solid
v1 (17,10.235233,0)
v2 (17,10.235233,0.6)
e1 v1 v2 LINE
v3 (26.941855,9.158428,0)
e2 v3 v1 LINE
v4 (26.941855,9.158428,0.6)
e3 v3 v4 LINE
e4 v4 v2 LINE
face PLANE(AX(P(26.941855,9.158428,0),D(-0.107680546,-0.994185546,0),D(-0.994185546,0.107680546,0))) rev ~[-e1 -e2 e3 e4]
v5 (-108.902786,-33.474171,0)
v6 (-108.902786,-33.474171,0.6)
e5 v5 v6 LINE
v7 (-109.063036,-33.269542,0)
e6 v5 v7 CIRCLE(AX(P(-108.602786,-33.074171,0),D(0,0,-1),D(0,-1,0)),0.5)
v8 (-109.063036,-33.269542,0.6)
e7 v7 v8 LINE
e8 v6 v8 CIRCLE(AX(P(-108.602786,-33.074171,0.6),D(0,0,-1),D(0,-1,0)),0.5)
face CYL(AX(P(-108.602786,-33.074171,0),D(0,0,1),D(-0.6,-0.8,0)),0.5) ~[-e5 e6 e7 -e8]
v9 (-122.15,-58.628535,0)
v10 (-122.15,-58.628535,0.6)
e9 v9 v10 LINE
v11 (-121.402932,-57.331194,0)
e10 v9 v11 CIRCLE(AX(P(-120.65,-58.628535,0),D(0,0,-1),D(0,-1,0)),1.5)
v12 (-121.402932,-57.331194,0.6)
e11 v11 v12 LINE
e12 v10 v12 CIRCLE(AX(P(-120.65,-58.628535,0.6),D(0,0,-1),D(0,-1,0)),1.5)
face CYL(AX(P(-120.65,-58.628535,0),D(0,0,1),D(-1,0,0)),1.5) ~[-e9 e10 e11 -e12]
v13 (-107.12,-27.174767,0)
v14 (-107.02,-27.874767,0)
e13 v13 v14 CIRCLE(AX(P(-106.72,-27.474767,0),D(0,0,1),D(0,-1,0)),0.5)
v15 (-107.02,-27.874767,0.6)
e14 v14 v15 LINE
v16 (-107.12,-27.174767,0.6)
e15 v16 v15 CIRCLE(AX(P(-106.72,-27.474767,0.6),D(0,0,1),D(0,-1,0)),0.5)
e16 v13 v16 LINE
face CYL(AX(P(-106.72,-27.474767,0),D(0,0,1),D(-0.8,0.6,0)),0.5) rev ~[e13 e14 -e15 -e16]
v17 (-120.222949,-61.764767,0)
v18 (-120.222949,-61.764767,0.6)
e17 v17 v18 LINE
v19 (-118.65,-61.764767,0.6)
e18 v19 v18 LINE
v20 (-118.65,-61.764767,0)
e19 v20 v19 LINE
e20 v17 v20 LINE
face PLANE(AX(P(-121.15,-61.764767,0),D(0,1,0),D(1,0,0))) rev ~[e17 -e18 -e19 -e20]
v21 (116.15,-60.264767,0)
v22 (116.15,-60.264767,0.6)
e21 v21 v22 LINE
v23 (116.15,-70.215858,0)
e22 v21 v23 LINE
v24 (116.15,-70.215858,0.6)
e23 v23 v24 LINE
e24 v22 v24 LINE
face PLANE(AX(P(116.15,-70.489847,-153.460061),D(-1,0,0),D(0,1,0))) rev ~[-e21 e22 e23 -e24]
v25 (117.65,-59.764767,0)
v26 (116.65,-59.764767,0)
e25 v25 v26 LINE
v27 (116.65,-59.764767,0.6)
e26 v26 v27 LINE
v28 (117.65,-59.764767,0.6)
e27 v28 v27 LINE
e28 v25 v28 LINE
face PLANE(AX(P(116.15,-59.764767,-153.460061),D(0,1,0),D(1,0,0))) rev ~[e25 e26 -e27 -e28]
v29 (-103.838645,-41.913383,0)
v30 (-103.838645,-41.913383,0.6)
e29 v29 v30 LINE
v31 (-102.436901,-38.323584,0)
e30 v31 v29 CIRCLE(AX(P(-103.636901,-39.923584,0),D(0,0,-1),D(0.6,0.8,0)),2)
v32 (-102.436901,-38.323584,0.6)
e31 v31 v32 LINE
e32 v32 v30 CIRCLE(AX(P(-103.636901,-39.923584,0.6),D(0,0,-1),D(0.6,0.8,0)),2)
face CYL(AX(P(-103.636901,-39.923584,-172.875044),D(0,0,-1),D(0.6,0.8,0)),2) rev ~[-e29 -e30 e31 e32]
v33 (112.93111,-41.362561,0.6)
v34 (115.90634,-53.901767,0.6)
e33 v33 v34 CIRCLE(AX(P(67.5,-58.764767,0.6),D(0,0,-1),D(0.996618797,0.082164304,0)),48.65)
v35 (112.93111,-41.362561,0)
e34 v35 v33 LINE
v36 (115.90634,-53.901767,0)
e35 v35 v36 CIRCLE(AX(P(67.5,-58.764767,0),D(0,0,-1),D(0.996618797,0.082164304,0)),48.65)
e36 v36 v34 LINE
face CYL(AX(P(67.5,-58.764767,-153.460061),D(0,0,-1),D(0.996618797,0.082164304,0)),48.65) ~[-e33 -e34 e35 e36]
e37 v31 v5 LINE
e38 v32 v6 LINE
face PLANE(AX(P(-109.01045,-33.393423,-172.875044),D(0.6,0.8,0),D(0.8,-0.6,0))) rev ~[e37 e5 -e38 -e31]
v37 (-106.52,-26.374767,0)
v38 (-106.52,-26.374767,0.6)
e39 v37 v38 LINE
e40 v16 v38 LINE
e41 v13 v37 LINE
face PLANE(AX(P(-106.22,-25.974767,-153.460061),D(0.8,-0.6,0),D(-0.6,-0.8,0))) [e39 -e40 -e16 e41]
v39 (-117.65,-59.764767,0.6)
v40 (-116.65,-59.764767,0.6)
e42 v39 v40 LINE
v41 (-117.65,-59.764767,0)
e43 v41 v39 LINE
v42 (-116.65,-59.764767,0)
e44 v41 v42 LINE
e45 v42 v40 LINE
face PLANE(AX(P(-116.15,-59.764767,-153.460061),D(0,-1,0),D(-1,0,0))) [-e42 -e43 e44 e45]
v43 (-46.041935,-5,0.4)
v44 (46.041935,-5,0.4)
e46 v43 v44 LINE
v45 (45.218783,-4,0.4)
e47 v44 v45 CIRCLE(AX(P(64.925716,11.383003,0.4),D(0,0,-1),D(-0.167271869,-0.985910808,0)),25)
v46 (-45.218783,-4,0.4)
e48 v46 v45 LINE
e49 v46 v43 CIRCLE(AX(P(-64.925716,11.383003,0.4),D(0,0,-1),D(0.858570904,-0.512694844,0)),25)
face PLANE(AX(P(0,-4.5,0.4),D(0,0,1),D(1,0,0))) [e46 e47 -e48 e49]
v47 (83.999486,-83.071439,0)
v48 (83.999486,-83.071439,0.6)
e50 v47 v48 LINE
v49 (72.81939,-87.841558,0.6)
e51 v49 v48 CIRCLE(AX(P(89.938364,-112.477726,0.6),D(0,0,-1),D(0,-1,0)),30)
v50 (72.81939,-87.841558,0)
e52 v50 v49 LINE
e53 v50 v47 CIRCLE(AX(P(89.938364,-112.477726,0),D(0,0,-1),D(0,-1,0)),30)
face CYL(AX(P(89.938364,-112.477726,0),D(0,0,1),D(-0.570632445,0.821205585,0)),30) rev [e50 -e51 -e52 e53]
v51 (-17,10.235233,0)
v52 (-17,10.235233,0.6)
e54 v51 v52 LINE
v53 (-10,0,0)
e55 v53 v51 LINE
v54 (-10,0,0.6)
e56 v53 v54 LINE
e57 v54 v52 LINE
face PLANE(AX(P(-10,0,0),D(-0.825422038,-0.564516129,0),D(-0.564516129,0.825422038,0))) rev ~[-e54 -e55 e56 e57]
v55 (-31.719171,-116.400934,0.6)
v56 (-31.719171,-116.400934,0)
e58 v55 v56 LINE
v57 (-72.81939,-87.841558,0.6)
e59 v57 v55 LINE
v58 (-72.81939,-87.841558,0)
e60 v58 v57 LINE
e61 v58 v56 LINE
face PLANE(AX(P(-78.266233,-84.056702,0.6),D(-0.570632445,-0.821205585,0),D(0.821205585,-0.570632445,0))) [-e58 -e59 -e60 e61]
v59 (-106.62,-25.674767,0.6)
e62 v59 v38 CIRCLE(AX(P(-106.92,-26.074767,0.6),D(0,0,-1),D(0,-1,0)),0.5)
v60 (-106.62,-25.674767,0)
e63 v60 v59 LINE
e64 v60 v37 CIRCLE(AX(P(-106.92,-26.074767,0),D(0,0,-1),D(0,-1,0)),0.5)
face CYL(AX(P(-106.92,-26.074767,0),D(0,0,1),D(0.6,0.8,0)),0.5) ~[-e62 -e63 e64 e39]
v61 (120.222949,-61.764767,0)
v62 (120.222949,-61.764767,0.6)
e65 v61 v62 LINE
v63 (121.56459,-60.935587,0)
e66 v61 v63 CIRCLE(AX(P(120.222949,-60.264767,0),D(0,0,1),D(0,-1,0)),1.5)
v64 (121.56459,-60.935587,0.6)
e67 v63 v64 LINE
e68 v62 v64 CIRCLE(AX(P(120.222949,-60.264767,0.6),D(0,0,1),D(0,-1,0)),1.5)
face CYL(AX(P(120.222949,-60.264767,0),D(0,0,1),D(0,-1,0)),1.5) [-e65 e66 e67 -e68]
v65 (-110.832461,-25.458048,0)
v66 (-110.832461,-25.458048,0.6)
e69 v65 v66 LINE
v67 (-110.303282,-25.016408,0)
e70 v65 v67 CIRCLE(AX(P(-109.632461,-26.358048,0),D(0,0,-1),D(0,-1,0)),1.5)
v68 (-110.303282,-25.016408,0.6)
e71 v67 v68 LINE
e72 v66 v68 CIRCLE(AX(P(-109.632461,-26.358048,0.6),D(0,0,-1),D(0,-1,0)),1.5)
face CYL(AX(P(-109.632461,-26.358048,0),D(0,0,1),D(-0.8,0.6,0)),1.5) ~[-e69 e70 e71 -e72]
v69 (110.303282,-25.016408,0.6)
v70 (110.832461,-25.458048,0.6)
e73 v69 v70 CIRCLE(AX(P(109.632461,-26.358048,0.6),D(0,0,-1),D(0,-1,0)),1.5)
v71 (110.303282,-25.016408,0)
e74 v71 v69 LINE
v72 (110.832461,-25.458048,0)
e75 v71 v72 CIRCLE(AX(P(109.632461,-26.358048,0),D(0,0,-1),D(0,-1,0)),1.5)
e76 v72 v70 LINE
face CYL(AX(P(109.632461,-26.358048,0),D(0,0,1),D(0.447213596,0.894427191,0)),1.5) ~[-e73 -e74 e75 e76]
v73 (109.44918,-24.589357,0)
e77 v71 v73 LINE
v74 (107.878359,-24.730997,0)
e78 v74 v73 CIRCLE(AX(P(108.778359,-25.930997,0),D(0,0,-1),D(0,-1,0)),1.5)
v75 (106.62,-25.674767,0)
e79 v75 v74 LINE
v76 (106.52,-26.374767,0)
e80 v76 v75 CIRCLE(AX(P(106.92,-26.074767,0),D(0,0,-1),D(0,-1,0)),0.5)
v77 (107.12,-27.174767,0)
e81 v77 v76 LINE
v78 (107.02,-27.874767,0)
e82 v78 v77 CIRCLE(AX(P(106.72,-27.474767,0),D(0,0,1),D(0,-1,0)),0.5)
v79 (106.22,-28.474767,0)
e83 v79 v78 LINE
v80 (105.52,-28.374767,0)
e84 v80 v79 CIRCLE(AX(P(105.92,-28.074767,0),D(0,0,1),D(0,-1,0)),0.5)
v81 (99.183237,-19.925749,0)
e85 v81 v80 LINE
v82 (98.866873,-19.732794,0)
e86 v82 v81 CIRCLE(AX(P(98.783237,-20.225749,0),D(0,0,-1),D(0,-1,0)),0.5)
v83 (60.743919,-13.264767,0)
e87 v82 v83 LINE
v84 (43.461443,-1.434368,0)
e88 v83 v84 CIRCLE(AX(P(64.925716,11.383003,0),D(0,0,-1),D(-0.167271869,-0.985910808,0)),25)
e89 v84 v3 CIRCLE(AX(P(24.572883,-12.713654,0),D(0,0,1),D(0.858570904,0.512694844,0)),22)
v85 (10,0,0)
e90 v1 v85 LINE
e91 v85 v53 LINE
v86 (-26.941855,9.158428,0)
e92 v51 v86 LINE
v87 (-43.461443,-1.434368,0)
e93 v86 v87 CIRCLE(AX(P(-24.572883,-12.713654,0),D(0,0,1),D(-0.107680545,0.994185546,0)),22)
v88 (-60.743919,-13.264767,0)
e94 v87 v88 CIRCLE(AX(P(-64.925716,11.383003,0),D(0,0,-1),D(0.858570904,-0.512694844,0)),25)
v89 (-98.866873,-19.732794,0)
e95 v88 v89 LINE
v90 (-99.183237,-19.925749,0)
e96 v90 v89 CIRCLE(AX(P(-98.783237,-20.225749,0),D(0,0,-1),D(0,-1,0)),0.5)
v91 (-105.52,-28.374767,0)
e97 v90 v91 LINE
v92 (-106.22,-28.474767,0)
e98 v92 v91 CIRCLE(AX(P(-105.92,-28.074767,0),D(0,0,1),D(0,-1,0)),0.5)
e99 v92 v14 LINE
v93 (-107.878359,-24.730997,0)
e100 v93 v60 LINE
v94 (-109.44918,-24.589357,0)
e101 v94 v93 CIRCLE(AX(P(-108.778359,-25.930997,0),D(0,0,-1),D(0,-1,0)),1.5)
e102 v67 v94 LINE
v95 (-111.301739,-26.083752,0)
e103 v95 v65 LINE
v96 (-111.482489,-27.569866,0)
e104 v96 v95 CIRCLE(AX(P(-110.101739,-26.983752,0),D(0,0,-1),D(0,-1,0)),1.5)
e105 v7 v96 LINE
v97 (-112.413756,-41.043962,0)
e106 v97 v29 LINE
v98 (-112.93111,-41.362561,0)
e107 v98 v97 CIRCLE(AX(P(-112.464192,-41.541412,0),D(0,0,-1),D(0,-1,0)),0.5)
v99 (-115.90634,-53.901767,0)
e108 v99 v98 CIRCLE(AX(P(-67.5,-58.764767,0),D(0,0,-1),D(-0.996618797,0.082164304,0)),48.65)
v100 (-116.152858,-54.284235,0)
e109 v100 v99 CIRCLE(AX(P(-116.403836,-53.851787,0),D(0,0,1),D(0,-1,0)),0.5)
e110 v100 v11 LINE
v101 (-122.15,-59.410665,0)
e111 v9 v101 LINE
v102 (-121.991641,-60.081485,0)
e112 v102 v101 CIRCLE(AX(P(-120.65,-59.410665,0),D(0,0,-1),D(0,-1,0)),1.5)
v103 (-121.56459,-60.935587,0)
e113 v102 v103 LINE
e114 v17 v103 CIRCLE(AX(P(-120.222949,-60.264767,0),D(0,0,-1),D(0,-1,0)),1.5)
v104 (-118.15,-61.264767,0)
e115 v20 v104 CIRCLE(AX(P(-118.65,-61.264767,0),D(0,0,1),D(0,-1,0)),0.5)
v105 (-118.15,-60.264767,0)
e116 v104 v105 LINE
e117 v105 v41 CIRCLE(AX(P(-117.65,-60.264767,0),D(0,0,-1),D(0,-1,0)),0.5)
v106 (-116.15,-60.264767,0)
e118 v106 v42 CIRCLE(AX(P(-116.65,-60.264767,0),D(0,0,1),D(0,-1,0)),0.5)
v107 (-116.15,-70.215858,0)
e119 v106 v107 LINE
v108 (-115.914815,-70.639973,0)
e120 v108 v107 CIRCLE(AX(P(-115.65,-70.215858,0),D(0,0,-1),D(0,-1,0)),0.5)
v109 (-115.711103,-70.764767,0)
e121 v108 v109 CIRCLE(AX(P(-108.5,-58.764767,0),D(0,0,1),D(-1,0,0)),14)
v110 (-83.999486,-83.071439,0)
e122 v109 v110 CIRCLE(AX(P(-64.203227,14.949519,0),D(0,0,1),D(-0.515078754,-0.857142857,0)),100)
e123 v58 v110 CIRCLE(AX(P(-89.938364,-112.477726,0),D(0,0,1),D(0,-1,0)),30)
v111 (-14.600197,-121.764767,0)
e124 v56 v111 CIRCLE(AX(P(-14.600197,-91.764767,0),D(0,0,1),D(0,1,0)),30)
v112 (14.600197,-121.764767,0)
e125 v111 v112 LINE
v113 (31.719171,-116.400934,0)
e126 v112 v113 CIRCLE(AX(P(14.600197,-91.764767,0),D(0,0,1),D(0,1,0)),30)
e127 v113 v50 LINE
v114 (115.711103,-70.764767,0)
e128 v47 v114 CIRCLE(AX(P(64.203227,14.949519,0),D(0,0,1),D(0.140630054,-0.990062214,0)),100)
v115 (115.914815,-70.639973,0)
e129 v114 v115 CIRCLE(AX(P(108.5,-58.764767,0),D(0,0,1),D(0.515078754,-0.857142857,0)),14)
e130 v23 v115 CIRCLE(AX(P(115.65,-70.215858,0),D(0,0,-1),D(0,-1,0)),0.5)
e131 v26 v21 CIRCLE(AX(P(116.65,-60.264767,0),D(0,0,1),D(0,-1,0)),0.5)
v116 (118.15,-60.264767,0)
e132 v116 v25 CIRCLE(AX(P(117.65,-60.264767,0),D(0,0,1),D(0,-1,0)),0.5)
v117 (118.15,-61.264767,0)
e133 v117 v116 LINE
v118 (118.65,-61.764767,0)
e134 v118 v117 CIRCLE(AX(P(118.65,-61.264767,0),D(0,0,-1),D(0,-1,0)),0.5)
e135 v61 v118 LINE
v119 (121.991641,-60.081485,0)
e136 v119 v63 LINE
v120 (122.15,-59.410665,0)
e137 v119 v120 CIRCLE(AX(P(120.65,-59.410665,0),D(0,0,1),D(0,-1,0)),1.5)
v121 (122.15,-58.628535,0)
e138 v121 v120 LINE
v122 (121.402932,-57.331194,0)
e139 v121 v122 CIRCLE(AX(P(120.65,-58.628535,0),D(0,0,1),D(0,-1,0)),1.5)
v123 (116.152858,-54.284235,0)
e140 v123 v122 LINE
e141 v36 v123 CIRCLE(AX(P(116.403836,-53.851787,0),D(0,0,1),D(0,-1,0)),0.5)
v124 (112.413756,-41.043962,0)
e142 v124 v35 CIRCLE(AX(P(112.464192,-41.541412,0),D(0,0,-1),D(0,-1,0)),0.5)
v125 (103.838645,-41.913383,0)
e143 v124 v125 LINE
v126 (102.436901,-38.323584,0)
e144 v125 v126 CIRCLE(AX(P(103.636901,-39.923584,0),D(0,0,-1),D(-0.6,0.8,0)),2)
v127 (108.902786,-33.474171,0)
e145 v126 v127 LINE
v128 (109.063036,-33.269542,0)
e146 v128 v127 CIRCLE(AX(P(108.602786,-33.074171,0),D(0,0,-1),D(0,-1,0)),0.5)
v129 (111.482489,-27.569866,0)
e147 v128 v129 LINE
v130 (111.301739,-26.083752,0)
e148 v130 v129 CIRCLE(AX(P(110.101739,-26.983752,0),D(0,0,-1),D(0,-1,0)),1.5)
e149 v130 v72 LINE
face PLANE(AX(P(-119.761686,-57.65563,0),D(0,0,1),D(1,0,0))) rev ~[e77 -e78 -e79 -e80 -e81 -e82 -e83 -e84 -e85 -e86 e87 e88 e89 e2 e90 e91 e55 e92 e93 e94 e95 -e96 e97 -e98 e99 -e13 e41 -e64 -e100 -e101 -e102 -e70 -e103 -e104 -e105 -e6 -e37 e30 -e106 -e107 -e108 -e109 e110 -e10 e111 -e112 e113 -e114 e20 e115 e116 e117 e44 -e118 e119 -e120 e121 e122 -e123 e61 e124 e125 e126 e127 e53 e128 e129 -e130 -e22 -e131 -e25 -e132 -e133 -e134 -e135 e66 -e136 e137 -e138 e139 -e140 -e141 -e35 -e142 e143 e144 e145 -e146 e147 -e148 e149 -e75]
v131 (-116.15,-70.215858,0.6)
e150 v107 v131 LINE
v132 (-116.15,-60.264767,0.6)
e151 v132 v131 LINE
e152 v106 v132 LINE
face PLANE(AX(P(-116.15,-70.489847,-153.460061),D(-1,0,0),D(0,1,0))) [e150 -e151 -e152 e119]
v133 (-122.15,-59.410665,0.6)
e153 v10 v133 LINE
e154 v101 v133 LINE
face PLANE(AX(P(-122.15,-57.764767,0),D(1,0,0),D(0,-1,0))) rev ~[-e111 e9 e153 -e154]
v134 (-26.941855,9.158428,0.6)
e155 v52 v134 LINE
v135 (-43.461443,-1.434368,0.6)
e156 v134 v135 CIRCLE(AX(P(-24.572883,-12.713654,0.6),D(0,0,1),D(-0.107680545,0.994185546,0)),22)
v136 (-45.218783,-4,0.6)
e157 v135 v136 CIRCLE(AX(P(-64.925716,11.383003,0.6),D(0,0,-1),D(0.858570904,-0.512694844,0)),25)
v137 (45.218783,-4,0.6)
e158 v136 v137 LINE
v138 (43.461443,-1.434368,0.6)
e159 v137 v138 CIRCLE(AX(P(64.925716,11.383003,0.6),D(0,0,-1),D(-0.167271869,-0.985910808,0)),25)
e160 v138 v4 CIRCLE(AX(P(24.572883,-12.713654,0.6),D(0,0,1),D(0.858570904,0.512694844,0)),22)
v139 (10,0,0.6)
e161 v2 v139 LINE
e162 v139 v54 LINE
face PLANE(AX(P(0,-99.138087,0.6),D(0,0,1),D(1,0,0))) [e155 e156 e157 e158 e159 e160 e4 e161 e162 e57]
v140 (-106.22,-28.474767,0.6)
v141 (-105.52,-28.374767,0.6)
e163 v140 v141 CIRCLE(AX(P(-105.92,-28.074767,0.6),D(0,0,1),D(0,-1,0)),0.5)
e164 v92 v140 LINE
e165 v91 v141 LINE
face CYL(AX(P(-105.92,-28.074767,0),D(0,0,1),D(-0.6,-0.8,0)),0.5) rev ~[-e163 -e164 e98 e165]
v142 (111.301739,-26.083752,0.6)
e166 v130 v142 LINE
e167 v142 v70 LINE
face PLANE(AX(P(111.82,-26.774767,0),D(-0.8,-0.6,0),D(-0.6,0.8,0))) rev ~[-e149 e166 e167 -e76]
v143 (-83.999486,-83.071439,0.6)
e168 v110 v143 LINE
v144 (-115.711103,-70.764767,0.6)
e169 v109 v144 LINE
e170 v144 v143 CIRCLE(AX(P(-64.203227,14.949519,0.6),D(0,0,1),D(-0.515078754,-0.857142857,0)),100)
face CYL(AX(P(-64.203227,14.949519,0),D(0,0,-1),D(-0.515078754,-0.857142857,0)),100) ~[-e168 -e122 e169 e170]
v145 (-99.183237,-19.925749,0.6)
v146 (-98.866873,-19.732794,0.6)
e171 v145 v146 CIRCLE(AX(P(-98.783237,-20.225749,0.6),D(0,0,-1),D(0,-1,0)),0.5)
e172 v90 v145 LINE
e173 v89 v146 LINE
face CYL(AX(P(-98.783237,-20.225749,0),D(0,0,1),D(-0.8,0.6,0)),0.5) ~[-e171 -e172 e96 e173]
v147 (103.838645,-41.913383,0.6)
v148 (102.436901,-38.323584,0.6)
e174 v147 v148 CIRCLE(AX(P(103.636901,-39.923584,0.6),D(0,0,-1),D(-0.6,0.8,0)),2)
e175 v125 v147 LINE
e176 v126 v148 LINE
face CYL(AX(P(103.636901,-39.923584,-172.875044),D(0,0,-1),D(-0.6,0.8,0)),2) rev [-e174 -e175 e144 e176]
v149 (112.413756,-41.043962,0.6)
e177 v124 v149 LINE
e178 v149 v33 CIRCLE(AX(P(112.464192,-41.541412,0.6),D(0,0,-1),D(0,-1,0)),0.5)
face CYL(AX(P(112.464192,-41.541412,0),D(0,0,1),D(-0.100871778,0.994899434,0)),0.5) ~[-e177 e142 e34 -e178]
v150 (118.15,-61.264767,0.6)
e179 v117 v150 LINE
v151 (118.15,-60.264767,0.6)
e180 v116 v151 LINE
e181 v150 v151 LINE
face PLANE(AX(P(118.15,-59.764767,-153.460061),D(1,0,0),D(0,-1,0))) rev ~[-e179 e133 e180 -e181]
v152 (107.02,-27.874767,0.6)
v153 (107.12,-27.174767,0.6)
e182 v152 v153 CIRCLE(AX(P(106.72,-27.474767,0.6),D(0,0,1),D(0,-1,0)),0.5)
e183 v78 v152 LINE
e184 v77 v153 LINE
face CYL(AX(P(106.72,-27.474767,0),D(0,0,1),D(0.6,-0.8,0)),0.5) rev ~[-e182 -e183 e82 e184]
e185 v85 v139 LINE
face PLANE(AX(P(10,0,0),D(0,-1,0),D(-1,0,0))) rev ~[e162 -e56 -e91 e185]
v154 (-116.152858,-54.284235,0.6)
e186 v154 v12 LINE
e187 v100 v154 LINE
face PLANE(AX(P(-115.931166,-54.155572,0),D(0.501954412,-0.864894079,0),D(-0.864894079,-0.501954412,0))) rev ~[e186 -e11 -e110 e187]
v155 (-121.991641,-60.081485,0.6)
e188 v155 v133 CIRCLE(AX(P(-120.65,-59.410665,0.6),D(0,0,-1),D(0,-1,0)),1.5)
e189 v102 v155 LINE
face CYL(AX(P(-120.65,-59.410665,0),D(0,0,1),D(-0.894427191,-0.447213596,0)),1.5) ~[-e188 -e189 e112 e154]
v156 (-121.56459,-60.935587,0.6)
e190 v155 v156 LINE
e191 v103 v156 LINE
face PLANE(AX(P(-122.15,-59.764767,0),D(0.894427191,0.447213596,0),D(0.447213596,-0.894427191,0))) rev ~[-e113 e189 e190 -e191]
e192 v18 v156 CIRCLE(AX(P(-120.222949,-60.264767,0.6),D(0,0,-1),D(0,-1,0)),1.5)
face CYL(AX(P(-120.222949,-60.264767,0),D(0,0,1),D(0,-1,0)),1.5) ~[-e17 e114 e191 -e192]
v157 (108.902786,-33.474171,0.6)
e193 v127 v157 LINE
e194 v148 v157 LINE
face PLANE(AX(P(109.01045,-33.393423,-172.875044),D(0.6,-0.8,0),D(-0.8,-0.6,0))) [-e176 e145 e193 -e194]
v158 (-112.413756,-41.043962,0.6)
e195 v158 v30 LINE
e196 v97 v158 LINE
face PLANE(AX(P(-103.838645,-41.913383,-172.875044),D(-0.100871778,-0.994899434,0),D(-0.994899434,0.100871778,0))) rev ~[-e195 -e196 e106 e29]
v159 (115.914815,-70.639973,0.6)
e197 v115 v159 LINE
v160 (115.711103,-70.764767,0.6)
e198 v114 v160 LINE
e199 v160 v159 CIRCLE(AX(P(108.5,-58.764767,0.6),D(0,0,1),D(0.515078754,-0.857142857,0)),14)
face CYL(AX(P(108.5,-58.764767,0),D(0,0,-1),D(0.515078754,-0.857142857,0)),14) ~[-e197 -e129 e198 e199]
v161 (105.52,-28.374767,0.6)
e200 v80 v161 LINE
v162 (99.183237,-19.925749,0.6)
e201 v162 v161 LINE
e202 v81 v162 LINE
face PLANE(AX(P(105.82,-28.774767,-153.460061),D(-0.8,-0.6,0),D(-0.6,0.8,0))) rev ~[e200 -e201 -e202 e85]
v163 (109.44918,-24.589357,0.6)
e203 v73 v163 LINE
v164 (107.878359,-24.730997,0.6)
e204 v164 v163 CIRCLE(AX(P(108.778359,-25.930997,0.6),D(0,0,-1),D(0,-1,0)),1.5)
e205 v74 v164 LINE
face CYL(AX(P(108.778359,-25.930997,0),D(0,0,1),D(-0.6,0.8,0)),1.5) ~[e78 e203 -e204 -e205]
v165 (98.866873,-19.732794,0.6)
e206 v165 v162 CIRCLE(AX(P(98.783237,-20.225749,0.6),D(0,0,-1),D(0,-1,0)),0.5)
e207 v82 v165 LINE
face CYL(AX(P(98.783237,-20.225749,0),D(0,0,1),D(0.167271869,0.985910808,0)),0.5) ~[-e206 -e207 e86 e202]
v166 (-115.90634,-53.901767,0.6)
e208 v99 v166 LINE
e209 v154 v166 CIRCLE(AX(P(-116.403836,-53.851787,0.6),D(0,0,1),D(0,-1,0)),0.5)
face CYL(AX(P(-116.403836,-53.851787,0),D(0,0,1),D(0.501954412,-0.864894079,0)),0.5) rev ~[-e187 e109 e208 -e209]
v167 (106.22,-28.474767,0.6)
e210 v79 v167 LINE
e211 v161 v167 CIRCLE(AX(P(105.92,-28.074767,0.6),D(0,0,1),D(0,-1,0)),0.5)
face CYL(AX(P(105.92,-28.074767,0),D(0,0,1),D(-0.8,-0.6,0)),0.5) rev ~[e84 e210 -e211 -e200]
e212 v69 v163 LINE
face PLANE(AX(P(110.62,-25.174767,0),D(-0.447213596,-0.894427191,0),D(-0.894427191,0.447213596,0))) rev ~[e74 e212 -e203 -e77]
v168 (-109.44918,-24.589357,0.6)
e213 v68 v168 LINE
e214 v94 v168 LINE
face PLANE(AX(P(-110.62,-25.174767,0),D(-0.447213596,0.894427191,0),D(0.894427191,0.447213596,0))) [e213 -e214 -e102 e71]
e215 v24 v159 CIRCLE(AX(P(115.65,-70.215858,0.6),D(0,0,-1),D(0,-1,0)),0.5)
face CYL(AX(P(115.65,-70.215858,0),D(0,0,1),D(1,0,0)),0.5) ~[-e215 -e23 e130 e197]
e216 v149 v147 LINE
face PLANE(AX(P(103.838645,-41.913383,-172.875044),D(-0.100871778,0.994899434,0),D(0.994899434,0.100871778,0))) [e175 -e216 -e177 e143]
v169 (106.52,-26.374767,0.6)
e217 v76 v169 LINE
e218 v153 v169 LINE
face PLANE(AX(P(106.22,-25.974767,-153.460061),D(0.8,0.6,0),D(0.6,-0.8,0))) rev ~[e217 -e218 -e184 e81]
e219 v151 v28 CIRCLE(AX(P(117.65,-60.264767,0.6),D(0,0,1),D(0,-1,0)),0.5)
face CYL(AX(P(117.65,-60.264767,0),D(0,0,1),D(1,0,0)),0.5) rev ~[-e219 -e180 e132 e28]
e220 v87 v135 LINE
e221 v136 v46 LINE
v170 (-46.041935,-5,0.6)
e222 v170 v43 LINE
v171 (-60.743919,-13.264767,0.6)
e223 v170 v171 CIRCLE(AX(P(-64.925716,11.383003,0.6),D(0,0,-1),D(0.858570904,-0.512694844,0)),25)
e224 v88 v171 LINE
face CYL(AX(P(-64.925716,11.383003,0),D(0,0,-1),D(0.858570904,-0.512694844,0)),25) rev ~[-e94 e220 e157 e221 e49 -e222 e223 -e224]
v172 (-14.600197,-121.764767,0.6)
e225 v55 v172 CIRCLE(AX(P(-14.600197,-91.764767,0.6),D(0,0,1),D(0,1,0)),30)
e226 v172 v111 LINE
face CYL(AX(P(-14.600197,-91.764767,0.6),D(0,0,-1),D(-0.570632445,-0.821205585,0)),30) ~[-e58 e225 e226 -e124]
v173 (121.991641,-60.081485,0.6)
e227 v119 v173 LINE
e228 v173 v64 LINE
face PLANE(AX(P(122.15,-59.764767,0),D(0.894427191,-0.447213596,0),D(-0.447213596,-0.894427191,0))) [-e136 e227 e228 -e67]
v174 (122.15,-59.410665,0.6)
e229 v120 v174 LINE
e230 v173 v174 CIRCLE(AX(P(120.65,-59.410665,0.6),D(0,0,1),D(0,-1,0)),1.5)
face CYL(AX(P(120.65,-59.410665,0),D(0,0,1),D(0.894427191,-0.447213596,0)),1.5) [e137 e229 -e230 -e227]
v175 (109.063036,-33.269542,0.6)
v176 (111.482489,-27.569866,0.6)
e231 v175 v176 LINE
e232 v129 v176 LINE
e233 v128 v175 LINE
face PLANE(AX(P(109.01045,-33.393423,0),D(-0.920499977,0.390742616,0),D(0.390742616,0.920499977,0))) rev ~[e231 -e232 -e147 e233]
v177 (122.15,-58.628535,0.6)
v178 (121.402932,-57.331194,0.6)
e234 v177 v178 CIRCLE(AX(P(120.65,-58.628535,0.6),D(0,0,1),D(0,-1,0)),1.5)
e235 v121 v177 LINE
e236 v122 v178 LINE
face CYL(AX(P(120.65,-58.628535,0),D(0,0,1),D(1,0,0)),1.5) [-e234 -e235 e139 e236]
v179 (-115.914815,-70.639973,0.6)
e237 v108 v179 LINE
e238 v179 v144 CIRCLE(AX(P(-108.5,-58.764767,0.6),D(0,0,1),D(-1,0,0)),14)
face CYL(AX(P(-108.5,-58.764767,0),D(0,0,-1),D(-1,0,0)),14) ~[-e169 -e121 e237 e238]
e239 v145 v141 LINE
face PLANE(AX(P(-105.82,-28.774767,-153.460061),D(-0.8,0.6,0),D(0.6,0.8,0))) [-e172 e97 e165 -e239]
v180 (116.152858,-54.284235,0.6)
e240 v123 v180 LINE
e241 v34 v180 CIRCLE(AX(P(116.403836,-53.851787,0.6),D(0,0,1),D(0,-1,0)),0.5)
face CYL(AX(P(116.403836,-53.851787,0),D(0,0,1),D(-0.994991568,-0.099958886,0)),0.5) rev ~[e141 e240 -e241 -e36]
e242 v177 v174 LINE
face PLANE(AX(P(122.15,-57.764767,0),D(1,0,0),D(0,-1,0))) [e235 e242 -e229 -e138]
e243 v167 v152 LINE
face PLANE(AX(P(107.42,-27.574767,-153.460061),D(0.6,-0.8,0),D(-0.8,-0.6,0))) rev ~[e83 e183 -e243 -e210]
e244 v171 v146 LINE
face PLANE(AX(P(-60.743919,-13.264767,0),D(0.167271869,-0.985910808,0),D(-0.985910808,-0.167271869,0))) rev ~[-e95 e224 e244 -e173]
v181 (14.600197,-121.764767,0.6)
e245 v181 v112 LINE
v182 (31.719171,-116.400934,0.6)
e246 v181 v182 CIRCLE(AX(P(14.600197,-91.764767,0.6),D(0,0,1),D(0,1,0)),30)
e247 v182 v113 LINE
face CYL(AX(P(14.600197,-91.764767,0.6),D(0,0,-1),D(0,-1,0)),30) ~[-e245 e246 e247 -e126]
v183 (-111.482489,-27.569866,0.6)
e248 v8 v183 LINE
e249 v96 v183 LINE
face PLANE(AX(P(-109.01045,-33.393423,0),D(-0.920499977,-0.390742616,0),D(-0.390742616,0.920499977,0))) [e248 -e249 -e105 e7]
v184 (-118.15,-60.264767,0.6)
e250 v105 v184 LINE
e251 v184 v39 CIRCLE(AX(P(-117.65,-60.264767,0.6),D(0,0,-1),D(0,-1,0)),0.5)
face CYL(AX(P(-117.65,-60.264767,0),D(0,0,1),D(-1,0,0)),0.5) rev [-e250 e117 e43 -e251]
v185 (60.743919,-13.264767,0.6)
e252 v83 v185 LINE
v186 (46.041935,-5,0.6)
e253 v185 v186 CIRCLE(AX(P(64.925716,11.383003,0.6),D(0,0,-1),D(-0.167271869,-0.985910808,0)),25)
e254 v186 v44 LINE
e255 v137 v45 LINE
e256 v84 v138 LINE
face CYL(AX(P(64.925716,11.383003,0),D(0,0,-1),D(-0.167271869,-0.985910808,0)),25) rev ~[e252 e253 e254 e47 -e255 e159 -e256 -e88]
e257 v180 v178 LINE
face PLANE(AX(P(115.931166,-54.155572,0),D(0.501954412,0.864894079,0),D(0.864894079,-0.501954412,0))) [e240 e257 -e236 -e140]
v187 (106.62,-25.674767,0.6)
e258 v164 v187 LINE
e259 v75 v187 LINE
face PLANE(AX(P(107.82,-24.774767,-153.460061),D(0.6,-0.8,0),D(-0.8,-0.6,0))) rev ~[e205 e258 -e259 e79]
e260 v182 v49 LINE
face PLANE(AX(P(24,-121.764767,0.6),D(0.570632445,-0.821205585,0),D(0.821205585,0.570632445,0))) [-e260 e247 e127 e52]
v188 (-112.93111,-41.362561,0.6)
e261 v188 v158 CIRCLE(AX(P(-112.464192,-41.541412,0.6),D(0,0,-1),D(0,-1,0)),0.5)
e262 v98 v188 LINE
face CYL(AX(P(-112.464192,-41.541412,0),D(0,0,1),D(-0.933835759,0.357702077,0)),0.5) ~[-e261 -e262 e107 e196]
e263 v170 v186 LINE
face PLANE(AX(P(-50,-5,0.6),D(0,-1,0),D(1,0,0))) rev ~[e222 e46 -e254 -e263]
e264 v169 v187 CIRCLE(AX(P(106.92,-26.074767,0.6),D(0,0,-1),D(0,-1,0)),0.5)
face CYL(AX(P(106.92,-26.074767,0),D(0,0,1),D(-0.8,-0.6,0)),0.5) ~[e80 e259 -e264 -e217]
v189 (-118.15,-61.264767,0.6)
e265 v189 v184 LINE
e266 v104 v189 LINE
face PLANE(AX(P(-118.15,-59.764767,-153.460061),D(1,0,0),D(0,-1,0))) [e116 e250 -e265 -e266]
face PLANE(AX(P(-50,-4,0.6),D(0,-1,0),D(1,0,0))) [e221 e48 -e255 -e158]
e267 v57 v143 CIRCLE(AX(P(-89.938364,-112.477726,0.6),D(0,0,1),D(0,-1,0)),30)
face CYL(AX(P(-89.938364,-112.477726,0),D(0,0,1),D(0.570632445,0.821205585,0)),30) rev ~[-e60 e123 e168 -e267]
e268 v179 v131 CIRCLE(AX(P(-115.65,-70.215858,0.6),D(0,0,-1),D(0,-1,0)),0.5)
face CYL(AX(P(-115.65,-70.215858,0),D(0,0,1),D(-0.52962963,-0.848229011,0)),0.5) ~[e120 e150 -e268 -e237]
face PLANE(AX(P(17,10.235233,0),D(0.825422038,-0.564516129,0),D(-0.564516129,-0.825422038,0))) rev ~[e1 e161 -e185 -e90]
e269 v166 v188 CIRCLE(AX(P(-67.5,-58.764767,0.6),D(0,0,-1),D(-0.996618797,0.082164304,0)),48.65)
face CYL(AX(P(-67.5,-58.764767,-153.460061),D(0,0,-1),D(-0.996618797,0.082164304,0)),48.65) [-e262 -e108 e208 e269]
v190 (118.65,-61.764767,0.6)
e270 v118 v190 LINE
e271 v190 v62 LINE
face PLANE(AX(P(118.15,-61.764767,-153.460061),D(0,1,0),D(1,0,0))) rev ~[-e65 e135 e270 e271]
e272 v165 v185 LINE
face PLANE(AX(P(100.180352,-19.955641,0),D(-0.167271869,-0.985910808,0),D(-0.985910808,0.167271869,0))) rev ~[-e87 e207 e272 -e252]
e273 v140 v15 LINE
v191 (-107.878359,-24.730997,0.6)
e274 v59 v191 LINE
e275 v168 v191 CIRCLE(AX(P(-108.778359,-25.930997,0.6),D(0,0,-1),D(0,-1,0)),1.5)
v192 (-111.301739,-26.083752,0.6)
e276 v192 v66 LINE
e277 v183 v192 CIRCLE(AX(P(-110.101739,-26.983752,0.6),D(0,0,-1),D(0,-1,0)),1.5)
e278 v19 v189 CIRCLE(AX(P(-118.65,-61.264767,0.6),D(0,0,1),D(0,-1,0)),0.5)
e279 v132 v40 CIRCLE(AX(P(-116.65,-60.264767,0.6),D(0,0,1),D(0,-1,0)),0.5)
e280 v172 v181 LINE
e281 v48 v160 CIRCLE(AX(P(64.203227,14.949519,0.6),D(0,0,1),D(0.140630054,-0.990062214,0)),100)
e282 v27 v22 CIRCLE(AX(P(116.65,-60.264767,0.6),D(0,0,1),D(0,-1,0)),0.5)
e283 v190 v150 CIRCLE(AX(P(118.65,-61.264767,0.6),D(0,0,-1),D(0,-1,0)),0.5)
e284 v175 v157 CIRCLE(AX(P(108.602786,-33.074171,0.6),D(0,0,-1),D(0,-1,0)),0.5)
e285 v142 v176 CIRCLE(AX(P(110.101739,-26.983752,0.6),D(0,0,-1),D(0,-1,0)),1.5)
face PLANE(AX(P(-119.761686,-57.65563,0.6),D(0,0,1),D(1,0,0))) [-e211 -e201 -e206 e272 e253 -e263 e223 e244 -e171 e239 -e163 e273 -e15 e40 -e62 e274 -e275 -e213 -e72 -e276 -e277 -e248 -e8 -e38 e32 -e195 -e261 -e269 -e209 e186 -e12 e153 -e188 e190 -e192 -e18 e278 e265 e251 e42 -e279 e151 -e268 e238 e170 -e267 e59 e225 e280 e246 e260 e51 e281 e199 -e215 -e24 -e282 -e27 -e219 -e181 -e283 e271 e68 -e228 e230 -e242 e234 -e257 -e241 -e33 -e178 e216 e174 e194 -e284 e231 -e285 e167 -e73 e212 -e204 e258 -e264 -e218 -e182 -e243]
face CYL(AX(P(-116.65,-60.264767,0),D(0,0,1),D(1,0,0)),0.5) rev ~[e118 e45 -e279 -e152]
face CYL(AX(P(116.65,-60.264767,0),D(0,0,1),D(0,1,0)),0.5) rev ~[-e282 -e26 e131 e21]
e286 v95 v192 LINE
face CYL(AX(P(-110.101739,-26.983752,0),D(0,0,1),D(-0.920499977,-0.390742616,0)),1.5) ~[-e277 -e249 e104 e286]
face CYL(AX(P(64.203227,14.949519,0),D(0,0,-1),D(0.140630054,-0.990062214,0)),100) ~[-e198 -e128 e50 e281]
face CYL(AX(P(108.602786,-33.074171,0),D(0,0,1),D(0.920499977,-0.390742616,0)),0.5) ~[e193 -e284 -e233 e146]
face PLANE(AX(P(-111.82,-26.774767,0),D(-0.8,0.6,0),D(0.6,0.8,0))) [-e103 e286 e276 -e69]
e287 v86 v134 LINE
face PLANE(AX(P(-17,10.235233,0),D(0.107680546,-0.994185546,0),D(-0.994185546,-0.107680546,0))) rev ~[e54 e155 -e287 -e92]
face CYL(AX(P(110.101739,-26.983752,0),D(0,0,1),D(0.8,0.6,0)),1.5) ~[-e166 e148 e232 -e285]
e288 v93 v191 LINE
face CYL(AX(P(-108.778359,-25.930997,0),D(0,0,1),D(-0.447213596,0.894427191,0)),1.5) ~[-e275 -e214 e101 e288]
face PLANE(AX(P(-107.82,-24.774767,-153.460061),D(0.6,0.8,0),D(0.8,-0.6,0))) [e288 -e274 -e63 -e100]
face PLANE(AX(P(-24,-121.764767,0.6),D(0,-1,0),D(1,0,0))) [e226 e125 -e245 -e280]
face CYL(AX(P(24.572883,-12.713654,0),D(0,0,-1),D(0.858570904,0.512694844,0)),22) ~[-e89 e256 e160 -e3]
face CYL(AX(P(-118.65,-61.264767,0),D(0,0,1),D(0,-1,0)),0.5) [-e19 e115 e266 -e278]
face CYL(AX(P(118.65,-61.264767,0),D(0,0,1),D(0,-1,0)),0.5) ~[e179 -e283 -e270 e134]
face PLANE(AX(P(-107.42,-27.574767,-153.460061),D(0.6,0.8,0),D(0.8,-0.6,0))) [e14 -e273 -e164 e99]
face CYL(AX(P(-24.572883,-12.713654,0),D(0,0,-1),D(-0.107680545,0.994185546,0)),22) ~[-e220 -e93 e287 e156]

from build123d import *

# Parameters (mm, degrees)
MAIN_SHAPE_DEPTH        = 0.6
TABS_DEPTH              = 154.060061459
TABS_DEPTH_BACK         = 154.060061459
CHIN_GUARD_DEPTH        = 0.6
FILLET1_R               = 30
SKETCH8_W               = 100
SKETCH8_H               = 1
CUT_EXTRUDE3_DEPTH      = 0.2
BOSS_EXTRUDE1_START     = -0.6
BOSS_EXTRUDE1_DEPTH     = 0.6
CUT_EXTRUDE4_DEPTH      = 173.475044334
CUT_EXTRUDE4_DEPTH_BACK = 173.475044334
FILLET2_R               = 0.5
FILLET3_R               = 1.5


with BuildPart() as part:
    # Sketch1 → Main Shape (new body)
    with BuildSketch(Plane.XY):
        with BuildLine():
            Line((-24, -91.764766734), (24, -91.764766734))
            Line((24, -91.764766734), (78.266232563, -84.05670244))
            ThreePointArc((78.266232563, -84.05670244), (97.655491519, -79.289252293), (115.711102551, -70.764766734))
            ThreePointArc((115.711102551, -70.764766734), (120.685143325, -65.658407438), (122.5, -58.764766734))
            ThreePointArc((122.5, -58.764766734), (120.227482046, -43.118277124), (113.597722286, -28.764766734))
            ThreePointArc((113.597722286, -28.764766734), (107.811505455, -22.955172168), (100.180351554, -19.955641477))
            Line((100.180351554, -19.955641477), (60.74391922, -13.264766734))
            ThreePointArc((60.74391922, -13.264766734), (50.804108255, -9.246591688), (43.461443341, -1.434367632))
            ThreePointArc((43.461443341, -1.434367632), (36.448172688, 5.805997675), (26.941855461, 9.15842781))
            Line((26.941855461, 9.15842781), (17, 10.235233266))
            Line((17, 10.235233266), (10, 0))
            Line((10, 0), (-10, 0))
            Line((-10, 0), (-17, 10.235233266))
            Line((-17, 10.235233266), (-26.941855461, 9.15842781))
            ThreePointArc((-26.941855461, 9.15842781), (-36.448172688, 5.805997675), (-43.461443341, -1.434367632))
            ThreePointArc((-43.461443341, -1.434367632), (-50.804108255, -9.246591688), (-60.74391922, -13.264766734))
            Line((-60.74391922, -13.264766734), (-100.180351554, -19.955641477))
            ThreePointArc((-100.180351554, -19.955641477), (-107.811505455, -22.955172168), (-113.597722286, -28.764766734))
            ThreePointArc((-113.597722286, -28.764766734), (-120.227482046, -43.118277124), (-122.5, -58.764766734))
            ThreePointArc((-122.5, -58.764766734), (-120.685143325, -65.658407438), (-115.711102551, -70.764766734))
            ThreePointArc((-115.711102551, -70.764766734), (-97.655491519, -79.289252293), (-78.266232563, -84.05670244))
            Line((-78.266232563, -84.05670244), (-24, -91.764766734))
        make_face()
    extrude(amount=MAIN_SHAPE_DEPTH)

    # Sketch2 → Tabs (cut, two sides: drawn at the far end of the back side and taken through both)
    with BuildSketch(Plane.XY.offset(0.6).offset(-TABS_DEPTH_BACK)):
        with BuildLine():
            Line((-121.15, -59.764766734), (-121.15, -57.764766734))
            Line((-121.15, -57.764766734), (-115.985504489, -54.767473344))
            ThreePointArc((-115.985504489, -54.767473344), (-113.65344245, -43.380285918), (-108.686779625, -32.871298753))
            Line((-108.686779625, -32.871298753), (-111.02, -27.374766734))
            Line((-111.02, -27.374766734), (-109.82, -25.774766734))
            Line((-109.82, -25.774766734), (-107.82, -24.774766734))
            Line((-107.82, -24.774766734), (-106.22, -25.974766734))
            Line((-106.22, -25.974766734), (-107.42, -27.574766734))
            Line((-107.42, -27.574766734), (-105.82, -28.774766734))
            Line((-105.82, -28.774766734), (-99.063546264, -19.766161753))
            Line((-99.063546264, -19.766161753), (-100.180351554, -19.955641477))
            ThreePointArc((-100.180351554, -19.955641477), (-107.811505455, -22.955172168), (-113.597722286, -28.764766734))
            ThreePointArc((-113.597722286, -28.764766734), (-120.227482046, -43.118277124), (-122.5, -58.764766734))
            ThreePointArc((-122.5, -58.764766734), (-120.810564569, -65.431850055), (-116.15, -70.489846692))
            Line((-116.15, -70.489846692), (-116.15, -59.764766734))
            Line((-116.15, -59.764766734), (-118.15, -59.764766734))
            Line((-118.15, -59.764766734), (-118.15, -61.764766734))
            Line((-118.15, -61.764766734), (-120.15, -61.764766734))
            Line((-120.15, -61.764766734), (-121.15, -59.764766734))
        make_face()
        with BuildLine():
            Line((105.82, -28.774766734), (99.063546264, -19.766161753))
            Line((99.063546264, -19.766161753), (100.180351554, -19.955641477))
            ThreePointArc((100.180351554, -19.955641477), (107.811505455, -22.955172168), (113.597722286, -28.764766734))
            ThreePointArc((113.597722286, -28.764766734), (120.227482046, -43.118277124), (122.5, -58.764766734))
            ThreePointArc((122.5, -58.764766734), (120.810564569, -65.431850055), (116.15, -70.489846692))
            Line((116.15, -70.489846692), (116.15, -59.764766734))
            Line((116.15, -59.764766734), (118.15, -59.764766734))
            Line((118.15, -59.764766734), (118.15, -61.764766734))
            Line((118.15, -61.764766734), (120.15, -61.764766734))
            Line((120.15, -61.764766734), (121.15, -59.764766734))
            Line((121.15, -59.764766734), (121.15, -57.764766734))
            Line((121.15, -57.764766734), (115.985504489, -54.767473344))
            ThreePointArc((115.985504489, -54.767473344), (113.65344245, -43.380285918), (108.686779625, -32.871298753))
            Line((108.686779625, -32.871298753), (111.02, -27.374766734))
            Line((111.02, -27.374766734), (109.82, -25.774766734))
            Line((109.82, -25.774766734), (107.82, -24.774766734))
            Line((107.82, -24.774766734), (106.22, -25.974766734))
            Line((106.22, -25.974766734), (107.42, -27.574766734))
            Line((107.42, -27.574766734), (105.82, -28.774766734))
        make_face()
    extrude(amount=TABS_DEPTH + TABS_DEPTH_BACK, mode=Mode.SUBTRACT)

    # Sketch5 → Chin guard (add)
    with BuildSketch(Plane.XY.offset(0.6)):
        Polygon((-78.266232563, -84.05670244), (-24, -121.764766734), (24, -121.764766734), (78.266232563, -84.05670244), (24, -91.764766734), (-24, -91.764766734), align=None)
    extrude(amount=-CHIN_GUARD_DEPTH)

    # Fillet1
    fillet1_edges = [part.edges().sort_by_distance(p)[0] for p in [
        (-24, -121.764766734, 0.3),
        (24, -121.764766734, 0.3),
        (78.266232563, -84.05670244, 0.3),
        (-78.266232563, -84.05670244, 0.3),
    ]]
    fillet(fillet1_edges, radius=FILLET1_R)

    # Sketch8 → Cut-Extrude3 (cut)
    with BuildSketch(Plane.XY.offset(0.6)):
        with Locations((0, -4.5)):
            Rectangle(SKETCH8_W, SKETCH8_H)
    extrude(amount=-CUT_EXTRUDE3_DEPTH, mode=Mode.SUBTRACT)

    # Sketch9 → Boss-Extrude1 (add)
    with BuildSketch(Plane.XY.offset(0.6).offset(BOSS_EXTRUDE1_START)):
        with BuildLine():
            Line((-121.15, -61.764766734), (-120.15, -61.764766734))
            Line((-120.15, -61.764766734), (-121.15, -59.764766734))
            Line((-121.15, -59.764766734), (-121.15, -57.764766734))
            Line((-121.15, -57.764766734), (-115.985504489, -54.767473344))
            ThreePointArc((-115.985504489, -54.767473344), (-115.959300984, -54.461436848), (-115.931165822, -54.155571889))
            Line((-115.931165822, -54.155571889), (-122.15, -57.764766734))
            Line((-122.15, -57.764766734), (-122.15, -59.764766734))
            Line((-122.15, -59.764766734), (-121.15, -61.764766734))
        make_face()
        with BuildLine():
            Line((-111.02, -27.374766734), (-108.686779625, -32.871298753))
            ThreePointArc((-108.686779625, -32.871298753), (-108.849438719, -33.131850053), (-109.010449565, -33.393423117))
            Line((-109.010449565, -33.393423117), (-111.82, -26.774766734))
            Line((-111.82, -26.774766734), (-110.62, -25.174766734))
            Line((-110.62, -25.174766734), (-108.62, -24.174766734))
            Line((-108.62, -24.174766734), (-107.82, -24.774766734))
            Line((-107.82, -24.774766734), (-109.82, -25.774766734))
            Line((-109.82, -25.774766734), (-111.02, -27.374766734))
        make_face()
        with BuildLine():
            Line((108.62, -24.174766734), (107.82, -24.774766734))
            Line((107.82, -24.774766734), (109.82, -25.774766734))
            Line((109.82, -25.774766734), (111.02, -27.374766734))
            Line((111.02, -27.374766734), (108.686779625, -32.871298753))
            ThreePointArc((108.686779625, -32.871298753), (108.849438719, -33.131850053), (109.010449565, -33.393423117))
            Line((109.010449565, -33.393423117), (111.82, -26.774766734))
            Line((111.82, -26.774766734), (110.62, -25.174766734))
            Line((110.62, -25.174766734), (108.62, -24.174766734))
        make_face()
        with BuildLine():
            Line((121.15, -57.764766734), (115.985504489, -54.767473344))
            ThreePointArc((115.985504489, -54.767473344), (115.959300984, -54.461436848), (115.931165822, -54.155571889))
            Line((115.931165822, -54.155571889), (122.15, -57.764766734))
            Line((122.15, -57.764766734), (122.15, -59.764766734))
            Line((122.15, -59.764766734), (121.15, -61.764766734))
            Line((121.15, -61.764766734), (120.15, -61.764766734))
            Line((120.15, -61.764766734), (121.15, -59.764766734))
            Line((121.15, -59.764766734), (121.15, -57.764766734))
        make_face()
    extrude(amount=BOSS_EXTRUDE1_DEPTH)

    # Sketch7 → Cut-Extrude4 (cut, two sides: drawn at the far end of the back side and taken through both)
    with BuildSketch(Plane.XY.offset(0.6).offset(-CUT_EXTRUDE4_DEPTH_BACK)):
        with BuildLine():
            Line((-103.838644773, -41.913383247), (-112.792739682, -41.005537243))
            ThreePointArc((-112.792739682, -41.005537243), (-111.068159087, -37.116718005), (-109.010449565, -33.393423117))
            Line((-109.010449565, -33.393423117), (-102.436901217, -38.323584378))
            ThreePointArc((-102.436901217, -38.323584378), (-101.773894786, -40.651050555), (-103.838644773, -41.913383247))
        make_face()
        with BuildLine():
            Line((109.010449565, -33.393423117), (102.436901217, -38.323584378))
            ThreePointArc((102.436901217, -38.323584378), (101.773894786, -40.651050555), (103.838644773, -41.913383247))
            Line((103.838644773, -41.913383247), (112.792739682, -41.005537243))
            ThreePointArc((112.792739682, -41.005537243), (111.068159087, -37.116718005), (109.010449565, -33.393423117))
        make_face()
    extrude(amount=CUT_EXTRUDE4_DEPTH + CUT_EXTRUDE4_DEPTH_BACK, mode=Mode.SUBTRACT)

    # Fillet2
    fillet2_edges = [part.edges().sort_by_distance(p)[0] for p in [
        (109.010449565, -33.393423117, 0.3),
        (-112.792739682, -41.005537243, 0.3),
        (-109.010449565, -33.393423117, 0.3),
        (-106.22, -25.974766734, 0.3),
        (-107.42, -27.574766734, 0.3),
        (-105.82, -28.774766734, 0.3),
        (-115.931165822, -54.155571889, 0.3),
        (-118.15, -61.764766734, 0.3),
        (-116.15, -59.764766734, 0.3),
        (-118.15, -59.764766734, 0.3),
        (118.15, -61.764766734, 0.3),
        (118.15, -59.764766734, 0.3),
        (116.15, -59.764766734, 0.3),
        (105.82, -28.774766734, 0.3),
        (107.42, -27.574766734, 0.3),
        (106.22, -25.974766734, 0.3),
        (116.15, -70.489846692, 0.3),
        (115.931165822, -54.155571889, 0.3),
        (112.792739682, -41.005537243, 0.3),
        (99.063546264, -19.766161753, 0.3),
        (-99.063546264, -19.766161753, 0.3),
        (-116.15, -70.489846692, 0.3),
    ]]
    fillet(fillet2_edges, radius=FILLET2_R)

    # Fillet3
    fillet3_edges = [part.edges().sort_by_distance(p)[0] for p in [
        (-122.15, -57.764766734, 0.3),
        (-122.15, -59.764766734, 0.3),
        (-121.15, -61.764766734, 0.3),
        (-108.62, -24.174766734, 0.3),
        (-110.62, -25.174766734, 0.3),
        (-111.82, -26.774766734, 0.3),
        (121.15, -61.764766734, 0.3),
        (122.15, -59.764766734, 0.3),
        (122.15, -57.764766734, 0.3),
        (111.82, -26.774766734, 0.3),
        (110.62, -25.174766734, 0.3),
        (108.62, -24.174766734, 0.3),
    ]]
    fillet(fillet3_edges, radius=FILLET3_R)


solid = part.part
